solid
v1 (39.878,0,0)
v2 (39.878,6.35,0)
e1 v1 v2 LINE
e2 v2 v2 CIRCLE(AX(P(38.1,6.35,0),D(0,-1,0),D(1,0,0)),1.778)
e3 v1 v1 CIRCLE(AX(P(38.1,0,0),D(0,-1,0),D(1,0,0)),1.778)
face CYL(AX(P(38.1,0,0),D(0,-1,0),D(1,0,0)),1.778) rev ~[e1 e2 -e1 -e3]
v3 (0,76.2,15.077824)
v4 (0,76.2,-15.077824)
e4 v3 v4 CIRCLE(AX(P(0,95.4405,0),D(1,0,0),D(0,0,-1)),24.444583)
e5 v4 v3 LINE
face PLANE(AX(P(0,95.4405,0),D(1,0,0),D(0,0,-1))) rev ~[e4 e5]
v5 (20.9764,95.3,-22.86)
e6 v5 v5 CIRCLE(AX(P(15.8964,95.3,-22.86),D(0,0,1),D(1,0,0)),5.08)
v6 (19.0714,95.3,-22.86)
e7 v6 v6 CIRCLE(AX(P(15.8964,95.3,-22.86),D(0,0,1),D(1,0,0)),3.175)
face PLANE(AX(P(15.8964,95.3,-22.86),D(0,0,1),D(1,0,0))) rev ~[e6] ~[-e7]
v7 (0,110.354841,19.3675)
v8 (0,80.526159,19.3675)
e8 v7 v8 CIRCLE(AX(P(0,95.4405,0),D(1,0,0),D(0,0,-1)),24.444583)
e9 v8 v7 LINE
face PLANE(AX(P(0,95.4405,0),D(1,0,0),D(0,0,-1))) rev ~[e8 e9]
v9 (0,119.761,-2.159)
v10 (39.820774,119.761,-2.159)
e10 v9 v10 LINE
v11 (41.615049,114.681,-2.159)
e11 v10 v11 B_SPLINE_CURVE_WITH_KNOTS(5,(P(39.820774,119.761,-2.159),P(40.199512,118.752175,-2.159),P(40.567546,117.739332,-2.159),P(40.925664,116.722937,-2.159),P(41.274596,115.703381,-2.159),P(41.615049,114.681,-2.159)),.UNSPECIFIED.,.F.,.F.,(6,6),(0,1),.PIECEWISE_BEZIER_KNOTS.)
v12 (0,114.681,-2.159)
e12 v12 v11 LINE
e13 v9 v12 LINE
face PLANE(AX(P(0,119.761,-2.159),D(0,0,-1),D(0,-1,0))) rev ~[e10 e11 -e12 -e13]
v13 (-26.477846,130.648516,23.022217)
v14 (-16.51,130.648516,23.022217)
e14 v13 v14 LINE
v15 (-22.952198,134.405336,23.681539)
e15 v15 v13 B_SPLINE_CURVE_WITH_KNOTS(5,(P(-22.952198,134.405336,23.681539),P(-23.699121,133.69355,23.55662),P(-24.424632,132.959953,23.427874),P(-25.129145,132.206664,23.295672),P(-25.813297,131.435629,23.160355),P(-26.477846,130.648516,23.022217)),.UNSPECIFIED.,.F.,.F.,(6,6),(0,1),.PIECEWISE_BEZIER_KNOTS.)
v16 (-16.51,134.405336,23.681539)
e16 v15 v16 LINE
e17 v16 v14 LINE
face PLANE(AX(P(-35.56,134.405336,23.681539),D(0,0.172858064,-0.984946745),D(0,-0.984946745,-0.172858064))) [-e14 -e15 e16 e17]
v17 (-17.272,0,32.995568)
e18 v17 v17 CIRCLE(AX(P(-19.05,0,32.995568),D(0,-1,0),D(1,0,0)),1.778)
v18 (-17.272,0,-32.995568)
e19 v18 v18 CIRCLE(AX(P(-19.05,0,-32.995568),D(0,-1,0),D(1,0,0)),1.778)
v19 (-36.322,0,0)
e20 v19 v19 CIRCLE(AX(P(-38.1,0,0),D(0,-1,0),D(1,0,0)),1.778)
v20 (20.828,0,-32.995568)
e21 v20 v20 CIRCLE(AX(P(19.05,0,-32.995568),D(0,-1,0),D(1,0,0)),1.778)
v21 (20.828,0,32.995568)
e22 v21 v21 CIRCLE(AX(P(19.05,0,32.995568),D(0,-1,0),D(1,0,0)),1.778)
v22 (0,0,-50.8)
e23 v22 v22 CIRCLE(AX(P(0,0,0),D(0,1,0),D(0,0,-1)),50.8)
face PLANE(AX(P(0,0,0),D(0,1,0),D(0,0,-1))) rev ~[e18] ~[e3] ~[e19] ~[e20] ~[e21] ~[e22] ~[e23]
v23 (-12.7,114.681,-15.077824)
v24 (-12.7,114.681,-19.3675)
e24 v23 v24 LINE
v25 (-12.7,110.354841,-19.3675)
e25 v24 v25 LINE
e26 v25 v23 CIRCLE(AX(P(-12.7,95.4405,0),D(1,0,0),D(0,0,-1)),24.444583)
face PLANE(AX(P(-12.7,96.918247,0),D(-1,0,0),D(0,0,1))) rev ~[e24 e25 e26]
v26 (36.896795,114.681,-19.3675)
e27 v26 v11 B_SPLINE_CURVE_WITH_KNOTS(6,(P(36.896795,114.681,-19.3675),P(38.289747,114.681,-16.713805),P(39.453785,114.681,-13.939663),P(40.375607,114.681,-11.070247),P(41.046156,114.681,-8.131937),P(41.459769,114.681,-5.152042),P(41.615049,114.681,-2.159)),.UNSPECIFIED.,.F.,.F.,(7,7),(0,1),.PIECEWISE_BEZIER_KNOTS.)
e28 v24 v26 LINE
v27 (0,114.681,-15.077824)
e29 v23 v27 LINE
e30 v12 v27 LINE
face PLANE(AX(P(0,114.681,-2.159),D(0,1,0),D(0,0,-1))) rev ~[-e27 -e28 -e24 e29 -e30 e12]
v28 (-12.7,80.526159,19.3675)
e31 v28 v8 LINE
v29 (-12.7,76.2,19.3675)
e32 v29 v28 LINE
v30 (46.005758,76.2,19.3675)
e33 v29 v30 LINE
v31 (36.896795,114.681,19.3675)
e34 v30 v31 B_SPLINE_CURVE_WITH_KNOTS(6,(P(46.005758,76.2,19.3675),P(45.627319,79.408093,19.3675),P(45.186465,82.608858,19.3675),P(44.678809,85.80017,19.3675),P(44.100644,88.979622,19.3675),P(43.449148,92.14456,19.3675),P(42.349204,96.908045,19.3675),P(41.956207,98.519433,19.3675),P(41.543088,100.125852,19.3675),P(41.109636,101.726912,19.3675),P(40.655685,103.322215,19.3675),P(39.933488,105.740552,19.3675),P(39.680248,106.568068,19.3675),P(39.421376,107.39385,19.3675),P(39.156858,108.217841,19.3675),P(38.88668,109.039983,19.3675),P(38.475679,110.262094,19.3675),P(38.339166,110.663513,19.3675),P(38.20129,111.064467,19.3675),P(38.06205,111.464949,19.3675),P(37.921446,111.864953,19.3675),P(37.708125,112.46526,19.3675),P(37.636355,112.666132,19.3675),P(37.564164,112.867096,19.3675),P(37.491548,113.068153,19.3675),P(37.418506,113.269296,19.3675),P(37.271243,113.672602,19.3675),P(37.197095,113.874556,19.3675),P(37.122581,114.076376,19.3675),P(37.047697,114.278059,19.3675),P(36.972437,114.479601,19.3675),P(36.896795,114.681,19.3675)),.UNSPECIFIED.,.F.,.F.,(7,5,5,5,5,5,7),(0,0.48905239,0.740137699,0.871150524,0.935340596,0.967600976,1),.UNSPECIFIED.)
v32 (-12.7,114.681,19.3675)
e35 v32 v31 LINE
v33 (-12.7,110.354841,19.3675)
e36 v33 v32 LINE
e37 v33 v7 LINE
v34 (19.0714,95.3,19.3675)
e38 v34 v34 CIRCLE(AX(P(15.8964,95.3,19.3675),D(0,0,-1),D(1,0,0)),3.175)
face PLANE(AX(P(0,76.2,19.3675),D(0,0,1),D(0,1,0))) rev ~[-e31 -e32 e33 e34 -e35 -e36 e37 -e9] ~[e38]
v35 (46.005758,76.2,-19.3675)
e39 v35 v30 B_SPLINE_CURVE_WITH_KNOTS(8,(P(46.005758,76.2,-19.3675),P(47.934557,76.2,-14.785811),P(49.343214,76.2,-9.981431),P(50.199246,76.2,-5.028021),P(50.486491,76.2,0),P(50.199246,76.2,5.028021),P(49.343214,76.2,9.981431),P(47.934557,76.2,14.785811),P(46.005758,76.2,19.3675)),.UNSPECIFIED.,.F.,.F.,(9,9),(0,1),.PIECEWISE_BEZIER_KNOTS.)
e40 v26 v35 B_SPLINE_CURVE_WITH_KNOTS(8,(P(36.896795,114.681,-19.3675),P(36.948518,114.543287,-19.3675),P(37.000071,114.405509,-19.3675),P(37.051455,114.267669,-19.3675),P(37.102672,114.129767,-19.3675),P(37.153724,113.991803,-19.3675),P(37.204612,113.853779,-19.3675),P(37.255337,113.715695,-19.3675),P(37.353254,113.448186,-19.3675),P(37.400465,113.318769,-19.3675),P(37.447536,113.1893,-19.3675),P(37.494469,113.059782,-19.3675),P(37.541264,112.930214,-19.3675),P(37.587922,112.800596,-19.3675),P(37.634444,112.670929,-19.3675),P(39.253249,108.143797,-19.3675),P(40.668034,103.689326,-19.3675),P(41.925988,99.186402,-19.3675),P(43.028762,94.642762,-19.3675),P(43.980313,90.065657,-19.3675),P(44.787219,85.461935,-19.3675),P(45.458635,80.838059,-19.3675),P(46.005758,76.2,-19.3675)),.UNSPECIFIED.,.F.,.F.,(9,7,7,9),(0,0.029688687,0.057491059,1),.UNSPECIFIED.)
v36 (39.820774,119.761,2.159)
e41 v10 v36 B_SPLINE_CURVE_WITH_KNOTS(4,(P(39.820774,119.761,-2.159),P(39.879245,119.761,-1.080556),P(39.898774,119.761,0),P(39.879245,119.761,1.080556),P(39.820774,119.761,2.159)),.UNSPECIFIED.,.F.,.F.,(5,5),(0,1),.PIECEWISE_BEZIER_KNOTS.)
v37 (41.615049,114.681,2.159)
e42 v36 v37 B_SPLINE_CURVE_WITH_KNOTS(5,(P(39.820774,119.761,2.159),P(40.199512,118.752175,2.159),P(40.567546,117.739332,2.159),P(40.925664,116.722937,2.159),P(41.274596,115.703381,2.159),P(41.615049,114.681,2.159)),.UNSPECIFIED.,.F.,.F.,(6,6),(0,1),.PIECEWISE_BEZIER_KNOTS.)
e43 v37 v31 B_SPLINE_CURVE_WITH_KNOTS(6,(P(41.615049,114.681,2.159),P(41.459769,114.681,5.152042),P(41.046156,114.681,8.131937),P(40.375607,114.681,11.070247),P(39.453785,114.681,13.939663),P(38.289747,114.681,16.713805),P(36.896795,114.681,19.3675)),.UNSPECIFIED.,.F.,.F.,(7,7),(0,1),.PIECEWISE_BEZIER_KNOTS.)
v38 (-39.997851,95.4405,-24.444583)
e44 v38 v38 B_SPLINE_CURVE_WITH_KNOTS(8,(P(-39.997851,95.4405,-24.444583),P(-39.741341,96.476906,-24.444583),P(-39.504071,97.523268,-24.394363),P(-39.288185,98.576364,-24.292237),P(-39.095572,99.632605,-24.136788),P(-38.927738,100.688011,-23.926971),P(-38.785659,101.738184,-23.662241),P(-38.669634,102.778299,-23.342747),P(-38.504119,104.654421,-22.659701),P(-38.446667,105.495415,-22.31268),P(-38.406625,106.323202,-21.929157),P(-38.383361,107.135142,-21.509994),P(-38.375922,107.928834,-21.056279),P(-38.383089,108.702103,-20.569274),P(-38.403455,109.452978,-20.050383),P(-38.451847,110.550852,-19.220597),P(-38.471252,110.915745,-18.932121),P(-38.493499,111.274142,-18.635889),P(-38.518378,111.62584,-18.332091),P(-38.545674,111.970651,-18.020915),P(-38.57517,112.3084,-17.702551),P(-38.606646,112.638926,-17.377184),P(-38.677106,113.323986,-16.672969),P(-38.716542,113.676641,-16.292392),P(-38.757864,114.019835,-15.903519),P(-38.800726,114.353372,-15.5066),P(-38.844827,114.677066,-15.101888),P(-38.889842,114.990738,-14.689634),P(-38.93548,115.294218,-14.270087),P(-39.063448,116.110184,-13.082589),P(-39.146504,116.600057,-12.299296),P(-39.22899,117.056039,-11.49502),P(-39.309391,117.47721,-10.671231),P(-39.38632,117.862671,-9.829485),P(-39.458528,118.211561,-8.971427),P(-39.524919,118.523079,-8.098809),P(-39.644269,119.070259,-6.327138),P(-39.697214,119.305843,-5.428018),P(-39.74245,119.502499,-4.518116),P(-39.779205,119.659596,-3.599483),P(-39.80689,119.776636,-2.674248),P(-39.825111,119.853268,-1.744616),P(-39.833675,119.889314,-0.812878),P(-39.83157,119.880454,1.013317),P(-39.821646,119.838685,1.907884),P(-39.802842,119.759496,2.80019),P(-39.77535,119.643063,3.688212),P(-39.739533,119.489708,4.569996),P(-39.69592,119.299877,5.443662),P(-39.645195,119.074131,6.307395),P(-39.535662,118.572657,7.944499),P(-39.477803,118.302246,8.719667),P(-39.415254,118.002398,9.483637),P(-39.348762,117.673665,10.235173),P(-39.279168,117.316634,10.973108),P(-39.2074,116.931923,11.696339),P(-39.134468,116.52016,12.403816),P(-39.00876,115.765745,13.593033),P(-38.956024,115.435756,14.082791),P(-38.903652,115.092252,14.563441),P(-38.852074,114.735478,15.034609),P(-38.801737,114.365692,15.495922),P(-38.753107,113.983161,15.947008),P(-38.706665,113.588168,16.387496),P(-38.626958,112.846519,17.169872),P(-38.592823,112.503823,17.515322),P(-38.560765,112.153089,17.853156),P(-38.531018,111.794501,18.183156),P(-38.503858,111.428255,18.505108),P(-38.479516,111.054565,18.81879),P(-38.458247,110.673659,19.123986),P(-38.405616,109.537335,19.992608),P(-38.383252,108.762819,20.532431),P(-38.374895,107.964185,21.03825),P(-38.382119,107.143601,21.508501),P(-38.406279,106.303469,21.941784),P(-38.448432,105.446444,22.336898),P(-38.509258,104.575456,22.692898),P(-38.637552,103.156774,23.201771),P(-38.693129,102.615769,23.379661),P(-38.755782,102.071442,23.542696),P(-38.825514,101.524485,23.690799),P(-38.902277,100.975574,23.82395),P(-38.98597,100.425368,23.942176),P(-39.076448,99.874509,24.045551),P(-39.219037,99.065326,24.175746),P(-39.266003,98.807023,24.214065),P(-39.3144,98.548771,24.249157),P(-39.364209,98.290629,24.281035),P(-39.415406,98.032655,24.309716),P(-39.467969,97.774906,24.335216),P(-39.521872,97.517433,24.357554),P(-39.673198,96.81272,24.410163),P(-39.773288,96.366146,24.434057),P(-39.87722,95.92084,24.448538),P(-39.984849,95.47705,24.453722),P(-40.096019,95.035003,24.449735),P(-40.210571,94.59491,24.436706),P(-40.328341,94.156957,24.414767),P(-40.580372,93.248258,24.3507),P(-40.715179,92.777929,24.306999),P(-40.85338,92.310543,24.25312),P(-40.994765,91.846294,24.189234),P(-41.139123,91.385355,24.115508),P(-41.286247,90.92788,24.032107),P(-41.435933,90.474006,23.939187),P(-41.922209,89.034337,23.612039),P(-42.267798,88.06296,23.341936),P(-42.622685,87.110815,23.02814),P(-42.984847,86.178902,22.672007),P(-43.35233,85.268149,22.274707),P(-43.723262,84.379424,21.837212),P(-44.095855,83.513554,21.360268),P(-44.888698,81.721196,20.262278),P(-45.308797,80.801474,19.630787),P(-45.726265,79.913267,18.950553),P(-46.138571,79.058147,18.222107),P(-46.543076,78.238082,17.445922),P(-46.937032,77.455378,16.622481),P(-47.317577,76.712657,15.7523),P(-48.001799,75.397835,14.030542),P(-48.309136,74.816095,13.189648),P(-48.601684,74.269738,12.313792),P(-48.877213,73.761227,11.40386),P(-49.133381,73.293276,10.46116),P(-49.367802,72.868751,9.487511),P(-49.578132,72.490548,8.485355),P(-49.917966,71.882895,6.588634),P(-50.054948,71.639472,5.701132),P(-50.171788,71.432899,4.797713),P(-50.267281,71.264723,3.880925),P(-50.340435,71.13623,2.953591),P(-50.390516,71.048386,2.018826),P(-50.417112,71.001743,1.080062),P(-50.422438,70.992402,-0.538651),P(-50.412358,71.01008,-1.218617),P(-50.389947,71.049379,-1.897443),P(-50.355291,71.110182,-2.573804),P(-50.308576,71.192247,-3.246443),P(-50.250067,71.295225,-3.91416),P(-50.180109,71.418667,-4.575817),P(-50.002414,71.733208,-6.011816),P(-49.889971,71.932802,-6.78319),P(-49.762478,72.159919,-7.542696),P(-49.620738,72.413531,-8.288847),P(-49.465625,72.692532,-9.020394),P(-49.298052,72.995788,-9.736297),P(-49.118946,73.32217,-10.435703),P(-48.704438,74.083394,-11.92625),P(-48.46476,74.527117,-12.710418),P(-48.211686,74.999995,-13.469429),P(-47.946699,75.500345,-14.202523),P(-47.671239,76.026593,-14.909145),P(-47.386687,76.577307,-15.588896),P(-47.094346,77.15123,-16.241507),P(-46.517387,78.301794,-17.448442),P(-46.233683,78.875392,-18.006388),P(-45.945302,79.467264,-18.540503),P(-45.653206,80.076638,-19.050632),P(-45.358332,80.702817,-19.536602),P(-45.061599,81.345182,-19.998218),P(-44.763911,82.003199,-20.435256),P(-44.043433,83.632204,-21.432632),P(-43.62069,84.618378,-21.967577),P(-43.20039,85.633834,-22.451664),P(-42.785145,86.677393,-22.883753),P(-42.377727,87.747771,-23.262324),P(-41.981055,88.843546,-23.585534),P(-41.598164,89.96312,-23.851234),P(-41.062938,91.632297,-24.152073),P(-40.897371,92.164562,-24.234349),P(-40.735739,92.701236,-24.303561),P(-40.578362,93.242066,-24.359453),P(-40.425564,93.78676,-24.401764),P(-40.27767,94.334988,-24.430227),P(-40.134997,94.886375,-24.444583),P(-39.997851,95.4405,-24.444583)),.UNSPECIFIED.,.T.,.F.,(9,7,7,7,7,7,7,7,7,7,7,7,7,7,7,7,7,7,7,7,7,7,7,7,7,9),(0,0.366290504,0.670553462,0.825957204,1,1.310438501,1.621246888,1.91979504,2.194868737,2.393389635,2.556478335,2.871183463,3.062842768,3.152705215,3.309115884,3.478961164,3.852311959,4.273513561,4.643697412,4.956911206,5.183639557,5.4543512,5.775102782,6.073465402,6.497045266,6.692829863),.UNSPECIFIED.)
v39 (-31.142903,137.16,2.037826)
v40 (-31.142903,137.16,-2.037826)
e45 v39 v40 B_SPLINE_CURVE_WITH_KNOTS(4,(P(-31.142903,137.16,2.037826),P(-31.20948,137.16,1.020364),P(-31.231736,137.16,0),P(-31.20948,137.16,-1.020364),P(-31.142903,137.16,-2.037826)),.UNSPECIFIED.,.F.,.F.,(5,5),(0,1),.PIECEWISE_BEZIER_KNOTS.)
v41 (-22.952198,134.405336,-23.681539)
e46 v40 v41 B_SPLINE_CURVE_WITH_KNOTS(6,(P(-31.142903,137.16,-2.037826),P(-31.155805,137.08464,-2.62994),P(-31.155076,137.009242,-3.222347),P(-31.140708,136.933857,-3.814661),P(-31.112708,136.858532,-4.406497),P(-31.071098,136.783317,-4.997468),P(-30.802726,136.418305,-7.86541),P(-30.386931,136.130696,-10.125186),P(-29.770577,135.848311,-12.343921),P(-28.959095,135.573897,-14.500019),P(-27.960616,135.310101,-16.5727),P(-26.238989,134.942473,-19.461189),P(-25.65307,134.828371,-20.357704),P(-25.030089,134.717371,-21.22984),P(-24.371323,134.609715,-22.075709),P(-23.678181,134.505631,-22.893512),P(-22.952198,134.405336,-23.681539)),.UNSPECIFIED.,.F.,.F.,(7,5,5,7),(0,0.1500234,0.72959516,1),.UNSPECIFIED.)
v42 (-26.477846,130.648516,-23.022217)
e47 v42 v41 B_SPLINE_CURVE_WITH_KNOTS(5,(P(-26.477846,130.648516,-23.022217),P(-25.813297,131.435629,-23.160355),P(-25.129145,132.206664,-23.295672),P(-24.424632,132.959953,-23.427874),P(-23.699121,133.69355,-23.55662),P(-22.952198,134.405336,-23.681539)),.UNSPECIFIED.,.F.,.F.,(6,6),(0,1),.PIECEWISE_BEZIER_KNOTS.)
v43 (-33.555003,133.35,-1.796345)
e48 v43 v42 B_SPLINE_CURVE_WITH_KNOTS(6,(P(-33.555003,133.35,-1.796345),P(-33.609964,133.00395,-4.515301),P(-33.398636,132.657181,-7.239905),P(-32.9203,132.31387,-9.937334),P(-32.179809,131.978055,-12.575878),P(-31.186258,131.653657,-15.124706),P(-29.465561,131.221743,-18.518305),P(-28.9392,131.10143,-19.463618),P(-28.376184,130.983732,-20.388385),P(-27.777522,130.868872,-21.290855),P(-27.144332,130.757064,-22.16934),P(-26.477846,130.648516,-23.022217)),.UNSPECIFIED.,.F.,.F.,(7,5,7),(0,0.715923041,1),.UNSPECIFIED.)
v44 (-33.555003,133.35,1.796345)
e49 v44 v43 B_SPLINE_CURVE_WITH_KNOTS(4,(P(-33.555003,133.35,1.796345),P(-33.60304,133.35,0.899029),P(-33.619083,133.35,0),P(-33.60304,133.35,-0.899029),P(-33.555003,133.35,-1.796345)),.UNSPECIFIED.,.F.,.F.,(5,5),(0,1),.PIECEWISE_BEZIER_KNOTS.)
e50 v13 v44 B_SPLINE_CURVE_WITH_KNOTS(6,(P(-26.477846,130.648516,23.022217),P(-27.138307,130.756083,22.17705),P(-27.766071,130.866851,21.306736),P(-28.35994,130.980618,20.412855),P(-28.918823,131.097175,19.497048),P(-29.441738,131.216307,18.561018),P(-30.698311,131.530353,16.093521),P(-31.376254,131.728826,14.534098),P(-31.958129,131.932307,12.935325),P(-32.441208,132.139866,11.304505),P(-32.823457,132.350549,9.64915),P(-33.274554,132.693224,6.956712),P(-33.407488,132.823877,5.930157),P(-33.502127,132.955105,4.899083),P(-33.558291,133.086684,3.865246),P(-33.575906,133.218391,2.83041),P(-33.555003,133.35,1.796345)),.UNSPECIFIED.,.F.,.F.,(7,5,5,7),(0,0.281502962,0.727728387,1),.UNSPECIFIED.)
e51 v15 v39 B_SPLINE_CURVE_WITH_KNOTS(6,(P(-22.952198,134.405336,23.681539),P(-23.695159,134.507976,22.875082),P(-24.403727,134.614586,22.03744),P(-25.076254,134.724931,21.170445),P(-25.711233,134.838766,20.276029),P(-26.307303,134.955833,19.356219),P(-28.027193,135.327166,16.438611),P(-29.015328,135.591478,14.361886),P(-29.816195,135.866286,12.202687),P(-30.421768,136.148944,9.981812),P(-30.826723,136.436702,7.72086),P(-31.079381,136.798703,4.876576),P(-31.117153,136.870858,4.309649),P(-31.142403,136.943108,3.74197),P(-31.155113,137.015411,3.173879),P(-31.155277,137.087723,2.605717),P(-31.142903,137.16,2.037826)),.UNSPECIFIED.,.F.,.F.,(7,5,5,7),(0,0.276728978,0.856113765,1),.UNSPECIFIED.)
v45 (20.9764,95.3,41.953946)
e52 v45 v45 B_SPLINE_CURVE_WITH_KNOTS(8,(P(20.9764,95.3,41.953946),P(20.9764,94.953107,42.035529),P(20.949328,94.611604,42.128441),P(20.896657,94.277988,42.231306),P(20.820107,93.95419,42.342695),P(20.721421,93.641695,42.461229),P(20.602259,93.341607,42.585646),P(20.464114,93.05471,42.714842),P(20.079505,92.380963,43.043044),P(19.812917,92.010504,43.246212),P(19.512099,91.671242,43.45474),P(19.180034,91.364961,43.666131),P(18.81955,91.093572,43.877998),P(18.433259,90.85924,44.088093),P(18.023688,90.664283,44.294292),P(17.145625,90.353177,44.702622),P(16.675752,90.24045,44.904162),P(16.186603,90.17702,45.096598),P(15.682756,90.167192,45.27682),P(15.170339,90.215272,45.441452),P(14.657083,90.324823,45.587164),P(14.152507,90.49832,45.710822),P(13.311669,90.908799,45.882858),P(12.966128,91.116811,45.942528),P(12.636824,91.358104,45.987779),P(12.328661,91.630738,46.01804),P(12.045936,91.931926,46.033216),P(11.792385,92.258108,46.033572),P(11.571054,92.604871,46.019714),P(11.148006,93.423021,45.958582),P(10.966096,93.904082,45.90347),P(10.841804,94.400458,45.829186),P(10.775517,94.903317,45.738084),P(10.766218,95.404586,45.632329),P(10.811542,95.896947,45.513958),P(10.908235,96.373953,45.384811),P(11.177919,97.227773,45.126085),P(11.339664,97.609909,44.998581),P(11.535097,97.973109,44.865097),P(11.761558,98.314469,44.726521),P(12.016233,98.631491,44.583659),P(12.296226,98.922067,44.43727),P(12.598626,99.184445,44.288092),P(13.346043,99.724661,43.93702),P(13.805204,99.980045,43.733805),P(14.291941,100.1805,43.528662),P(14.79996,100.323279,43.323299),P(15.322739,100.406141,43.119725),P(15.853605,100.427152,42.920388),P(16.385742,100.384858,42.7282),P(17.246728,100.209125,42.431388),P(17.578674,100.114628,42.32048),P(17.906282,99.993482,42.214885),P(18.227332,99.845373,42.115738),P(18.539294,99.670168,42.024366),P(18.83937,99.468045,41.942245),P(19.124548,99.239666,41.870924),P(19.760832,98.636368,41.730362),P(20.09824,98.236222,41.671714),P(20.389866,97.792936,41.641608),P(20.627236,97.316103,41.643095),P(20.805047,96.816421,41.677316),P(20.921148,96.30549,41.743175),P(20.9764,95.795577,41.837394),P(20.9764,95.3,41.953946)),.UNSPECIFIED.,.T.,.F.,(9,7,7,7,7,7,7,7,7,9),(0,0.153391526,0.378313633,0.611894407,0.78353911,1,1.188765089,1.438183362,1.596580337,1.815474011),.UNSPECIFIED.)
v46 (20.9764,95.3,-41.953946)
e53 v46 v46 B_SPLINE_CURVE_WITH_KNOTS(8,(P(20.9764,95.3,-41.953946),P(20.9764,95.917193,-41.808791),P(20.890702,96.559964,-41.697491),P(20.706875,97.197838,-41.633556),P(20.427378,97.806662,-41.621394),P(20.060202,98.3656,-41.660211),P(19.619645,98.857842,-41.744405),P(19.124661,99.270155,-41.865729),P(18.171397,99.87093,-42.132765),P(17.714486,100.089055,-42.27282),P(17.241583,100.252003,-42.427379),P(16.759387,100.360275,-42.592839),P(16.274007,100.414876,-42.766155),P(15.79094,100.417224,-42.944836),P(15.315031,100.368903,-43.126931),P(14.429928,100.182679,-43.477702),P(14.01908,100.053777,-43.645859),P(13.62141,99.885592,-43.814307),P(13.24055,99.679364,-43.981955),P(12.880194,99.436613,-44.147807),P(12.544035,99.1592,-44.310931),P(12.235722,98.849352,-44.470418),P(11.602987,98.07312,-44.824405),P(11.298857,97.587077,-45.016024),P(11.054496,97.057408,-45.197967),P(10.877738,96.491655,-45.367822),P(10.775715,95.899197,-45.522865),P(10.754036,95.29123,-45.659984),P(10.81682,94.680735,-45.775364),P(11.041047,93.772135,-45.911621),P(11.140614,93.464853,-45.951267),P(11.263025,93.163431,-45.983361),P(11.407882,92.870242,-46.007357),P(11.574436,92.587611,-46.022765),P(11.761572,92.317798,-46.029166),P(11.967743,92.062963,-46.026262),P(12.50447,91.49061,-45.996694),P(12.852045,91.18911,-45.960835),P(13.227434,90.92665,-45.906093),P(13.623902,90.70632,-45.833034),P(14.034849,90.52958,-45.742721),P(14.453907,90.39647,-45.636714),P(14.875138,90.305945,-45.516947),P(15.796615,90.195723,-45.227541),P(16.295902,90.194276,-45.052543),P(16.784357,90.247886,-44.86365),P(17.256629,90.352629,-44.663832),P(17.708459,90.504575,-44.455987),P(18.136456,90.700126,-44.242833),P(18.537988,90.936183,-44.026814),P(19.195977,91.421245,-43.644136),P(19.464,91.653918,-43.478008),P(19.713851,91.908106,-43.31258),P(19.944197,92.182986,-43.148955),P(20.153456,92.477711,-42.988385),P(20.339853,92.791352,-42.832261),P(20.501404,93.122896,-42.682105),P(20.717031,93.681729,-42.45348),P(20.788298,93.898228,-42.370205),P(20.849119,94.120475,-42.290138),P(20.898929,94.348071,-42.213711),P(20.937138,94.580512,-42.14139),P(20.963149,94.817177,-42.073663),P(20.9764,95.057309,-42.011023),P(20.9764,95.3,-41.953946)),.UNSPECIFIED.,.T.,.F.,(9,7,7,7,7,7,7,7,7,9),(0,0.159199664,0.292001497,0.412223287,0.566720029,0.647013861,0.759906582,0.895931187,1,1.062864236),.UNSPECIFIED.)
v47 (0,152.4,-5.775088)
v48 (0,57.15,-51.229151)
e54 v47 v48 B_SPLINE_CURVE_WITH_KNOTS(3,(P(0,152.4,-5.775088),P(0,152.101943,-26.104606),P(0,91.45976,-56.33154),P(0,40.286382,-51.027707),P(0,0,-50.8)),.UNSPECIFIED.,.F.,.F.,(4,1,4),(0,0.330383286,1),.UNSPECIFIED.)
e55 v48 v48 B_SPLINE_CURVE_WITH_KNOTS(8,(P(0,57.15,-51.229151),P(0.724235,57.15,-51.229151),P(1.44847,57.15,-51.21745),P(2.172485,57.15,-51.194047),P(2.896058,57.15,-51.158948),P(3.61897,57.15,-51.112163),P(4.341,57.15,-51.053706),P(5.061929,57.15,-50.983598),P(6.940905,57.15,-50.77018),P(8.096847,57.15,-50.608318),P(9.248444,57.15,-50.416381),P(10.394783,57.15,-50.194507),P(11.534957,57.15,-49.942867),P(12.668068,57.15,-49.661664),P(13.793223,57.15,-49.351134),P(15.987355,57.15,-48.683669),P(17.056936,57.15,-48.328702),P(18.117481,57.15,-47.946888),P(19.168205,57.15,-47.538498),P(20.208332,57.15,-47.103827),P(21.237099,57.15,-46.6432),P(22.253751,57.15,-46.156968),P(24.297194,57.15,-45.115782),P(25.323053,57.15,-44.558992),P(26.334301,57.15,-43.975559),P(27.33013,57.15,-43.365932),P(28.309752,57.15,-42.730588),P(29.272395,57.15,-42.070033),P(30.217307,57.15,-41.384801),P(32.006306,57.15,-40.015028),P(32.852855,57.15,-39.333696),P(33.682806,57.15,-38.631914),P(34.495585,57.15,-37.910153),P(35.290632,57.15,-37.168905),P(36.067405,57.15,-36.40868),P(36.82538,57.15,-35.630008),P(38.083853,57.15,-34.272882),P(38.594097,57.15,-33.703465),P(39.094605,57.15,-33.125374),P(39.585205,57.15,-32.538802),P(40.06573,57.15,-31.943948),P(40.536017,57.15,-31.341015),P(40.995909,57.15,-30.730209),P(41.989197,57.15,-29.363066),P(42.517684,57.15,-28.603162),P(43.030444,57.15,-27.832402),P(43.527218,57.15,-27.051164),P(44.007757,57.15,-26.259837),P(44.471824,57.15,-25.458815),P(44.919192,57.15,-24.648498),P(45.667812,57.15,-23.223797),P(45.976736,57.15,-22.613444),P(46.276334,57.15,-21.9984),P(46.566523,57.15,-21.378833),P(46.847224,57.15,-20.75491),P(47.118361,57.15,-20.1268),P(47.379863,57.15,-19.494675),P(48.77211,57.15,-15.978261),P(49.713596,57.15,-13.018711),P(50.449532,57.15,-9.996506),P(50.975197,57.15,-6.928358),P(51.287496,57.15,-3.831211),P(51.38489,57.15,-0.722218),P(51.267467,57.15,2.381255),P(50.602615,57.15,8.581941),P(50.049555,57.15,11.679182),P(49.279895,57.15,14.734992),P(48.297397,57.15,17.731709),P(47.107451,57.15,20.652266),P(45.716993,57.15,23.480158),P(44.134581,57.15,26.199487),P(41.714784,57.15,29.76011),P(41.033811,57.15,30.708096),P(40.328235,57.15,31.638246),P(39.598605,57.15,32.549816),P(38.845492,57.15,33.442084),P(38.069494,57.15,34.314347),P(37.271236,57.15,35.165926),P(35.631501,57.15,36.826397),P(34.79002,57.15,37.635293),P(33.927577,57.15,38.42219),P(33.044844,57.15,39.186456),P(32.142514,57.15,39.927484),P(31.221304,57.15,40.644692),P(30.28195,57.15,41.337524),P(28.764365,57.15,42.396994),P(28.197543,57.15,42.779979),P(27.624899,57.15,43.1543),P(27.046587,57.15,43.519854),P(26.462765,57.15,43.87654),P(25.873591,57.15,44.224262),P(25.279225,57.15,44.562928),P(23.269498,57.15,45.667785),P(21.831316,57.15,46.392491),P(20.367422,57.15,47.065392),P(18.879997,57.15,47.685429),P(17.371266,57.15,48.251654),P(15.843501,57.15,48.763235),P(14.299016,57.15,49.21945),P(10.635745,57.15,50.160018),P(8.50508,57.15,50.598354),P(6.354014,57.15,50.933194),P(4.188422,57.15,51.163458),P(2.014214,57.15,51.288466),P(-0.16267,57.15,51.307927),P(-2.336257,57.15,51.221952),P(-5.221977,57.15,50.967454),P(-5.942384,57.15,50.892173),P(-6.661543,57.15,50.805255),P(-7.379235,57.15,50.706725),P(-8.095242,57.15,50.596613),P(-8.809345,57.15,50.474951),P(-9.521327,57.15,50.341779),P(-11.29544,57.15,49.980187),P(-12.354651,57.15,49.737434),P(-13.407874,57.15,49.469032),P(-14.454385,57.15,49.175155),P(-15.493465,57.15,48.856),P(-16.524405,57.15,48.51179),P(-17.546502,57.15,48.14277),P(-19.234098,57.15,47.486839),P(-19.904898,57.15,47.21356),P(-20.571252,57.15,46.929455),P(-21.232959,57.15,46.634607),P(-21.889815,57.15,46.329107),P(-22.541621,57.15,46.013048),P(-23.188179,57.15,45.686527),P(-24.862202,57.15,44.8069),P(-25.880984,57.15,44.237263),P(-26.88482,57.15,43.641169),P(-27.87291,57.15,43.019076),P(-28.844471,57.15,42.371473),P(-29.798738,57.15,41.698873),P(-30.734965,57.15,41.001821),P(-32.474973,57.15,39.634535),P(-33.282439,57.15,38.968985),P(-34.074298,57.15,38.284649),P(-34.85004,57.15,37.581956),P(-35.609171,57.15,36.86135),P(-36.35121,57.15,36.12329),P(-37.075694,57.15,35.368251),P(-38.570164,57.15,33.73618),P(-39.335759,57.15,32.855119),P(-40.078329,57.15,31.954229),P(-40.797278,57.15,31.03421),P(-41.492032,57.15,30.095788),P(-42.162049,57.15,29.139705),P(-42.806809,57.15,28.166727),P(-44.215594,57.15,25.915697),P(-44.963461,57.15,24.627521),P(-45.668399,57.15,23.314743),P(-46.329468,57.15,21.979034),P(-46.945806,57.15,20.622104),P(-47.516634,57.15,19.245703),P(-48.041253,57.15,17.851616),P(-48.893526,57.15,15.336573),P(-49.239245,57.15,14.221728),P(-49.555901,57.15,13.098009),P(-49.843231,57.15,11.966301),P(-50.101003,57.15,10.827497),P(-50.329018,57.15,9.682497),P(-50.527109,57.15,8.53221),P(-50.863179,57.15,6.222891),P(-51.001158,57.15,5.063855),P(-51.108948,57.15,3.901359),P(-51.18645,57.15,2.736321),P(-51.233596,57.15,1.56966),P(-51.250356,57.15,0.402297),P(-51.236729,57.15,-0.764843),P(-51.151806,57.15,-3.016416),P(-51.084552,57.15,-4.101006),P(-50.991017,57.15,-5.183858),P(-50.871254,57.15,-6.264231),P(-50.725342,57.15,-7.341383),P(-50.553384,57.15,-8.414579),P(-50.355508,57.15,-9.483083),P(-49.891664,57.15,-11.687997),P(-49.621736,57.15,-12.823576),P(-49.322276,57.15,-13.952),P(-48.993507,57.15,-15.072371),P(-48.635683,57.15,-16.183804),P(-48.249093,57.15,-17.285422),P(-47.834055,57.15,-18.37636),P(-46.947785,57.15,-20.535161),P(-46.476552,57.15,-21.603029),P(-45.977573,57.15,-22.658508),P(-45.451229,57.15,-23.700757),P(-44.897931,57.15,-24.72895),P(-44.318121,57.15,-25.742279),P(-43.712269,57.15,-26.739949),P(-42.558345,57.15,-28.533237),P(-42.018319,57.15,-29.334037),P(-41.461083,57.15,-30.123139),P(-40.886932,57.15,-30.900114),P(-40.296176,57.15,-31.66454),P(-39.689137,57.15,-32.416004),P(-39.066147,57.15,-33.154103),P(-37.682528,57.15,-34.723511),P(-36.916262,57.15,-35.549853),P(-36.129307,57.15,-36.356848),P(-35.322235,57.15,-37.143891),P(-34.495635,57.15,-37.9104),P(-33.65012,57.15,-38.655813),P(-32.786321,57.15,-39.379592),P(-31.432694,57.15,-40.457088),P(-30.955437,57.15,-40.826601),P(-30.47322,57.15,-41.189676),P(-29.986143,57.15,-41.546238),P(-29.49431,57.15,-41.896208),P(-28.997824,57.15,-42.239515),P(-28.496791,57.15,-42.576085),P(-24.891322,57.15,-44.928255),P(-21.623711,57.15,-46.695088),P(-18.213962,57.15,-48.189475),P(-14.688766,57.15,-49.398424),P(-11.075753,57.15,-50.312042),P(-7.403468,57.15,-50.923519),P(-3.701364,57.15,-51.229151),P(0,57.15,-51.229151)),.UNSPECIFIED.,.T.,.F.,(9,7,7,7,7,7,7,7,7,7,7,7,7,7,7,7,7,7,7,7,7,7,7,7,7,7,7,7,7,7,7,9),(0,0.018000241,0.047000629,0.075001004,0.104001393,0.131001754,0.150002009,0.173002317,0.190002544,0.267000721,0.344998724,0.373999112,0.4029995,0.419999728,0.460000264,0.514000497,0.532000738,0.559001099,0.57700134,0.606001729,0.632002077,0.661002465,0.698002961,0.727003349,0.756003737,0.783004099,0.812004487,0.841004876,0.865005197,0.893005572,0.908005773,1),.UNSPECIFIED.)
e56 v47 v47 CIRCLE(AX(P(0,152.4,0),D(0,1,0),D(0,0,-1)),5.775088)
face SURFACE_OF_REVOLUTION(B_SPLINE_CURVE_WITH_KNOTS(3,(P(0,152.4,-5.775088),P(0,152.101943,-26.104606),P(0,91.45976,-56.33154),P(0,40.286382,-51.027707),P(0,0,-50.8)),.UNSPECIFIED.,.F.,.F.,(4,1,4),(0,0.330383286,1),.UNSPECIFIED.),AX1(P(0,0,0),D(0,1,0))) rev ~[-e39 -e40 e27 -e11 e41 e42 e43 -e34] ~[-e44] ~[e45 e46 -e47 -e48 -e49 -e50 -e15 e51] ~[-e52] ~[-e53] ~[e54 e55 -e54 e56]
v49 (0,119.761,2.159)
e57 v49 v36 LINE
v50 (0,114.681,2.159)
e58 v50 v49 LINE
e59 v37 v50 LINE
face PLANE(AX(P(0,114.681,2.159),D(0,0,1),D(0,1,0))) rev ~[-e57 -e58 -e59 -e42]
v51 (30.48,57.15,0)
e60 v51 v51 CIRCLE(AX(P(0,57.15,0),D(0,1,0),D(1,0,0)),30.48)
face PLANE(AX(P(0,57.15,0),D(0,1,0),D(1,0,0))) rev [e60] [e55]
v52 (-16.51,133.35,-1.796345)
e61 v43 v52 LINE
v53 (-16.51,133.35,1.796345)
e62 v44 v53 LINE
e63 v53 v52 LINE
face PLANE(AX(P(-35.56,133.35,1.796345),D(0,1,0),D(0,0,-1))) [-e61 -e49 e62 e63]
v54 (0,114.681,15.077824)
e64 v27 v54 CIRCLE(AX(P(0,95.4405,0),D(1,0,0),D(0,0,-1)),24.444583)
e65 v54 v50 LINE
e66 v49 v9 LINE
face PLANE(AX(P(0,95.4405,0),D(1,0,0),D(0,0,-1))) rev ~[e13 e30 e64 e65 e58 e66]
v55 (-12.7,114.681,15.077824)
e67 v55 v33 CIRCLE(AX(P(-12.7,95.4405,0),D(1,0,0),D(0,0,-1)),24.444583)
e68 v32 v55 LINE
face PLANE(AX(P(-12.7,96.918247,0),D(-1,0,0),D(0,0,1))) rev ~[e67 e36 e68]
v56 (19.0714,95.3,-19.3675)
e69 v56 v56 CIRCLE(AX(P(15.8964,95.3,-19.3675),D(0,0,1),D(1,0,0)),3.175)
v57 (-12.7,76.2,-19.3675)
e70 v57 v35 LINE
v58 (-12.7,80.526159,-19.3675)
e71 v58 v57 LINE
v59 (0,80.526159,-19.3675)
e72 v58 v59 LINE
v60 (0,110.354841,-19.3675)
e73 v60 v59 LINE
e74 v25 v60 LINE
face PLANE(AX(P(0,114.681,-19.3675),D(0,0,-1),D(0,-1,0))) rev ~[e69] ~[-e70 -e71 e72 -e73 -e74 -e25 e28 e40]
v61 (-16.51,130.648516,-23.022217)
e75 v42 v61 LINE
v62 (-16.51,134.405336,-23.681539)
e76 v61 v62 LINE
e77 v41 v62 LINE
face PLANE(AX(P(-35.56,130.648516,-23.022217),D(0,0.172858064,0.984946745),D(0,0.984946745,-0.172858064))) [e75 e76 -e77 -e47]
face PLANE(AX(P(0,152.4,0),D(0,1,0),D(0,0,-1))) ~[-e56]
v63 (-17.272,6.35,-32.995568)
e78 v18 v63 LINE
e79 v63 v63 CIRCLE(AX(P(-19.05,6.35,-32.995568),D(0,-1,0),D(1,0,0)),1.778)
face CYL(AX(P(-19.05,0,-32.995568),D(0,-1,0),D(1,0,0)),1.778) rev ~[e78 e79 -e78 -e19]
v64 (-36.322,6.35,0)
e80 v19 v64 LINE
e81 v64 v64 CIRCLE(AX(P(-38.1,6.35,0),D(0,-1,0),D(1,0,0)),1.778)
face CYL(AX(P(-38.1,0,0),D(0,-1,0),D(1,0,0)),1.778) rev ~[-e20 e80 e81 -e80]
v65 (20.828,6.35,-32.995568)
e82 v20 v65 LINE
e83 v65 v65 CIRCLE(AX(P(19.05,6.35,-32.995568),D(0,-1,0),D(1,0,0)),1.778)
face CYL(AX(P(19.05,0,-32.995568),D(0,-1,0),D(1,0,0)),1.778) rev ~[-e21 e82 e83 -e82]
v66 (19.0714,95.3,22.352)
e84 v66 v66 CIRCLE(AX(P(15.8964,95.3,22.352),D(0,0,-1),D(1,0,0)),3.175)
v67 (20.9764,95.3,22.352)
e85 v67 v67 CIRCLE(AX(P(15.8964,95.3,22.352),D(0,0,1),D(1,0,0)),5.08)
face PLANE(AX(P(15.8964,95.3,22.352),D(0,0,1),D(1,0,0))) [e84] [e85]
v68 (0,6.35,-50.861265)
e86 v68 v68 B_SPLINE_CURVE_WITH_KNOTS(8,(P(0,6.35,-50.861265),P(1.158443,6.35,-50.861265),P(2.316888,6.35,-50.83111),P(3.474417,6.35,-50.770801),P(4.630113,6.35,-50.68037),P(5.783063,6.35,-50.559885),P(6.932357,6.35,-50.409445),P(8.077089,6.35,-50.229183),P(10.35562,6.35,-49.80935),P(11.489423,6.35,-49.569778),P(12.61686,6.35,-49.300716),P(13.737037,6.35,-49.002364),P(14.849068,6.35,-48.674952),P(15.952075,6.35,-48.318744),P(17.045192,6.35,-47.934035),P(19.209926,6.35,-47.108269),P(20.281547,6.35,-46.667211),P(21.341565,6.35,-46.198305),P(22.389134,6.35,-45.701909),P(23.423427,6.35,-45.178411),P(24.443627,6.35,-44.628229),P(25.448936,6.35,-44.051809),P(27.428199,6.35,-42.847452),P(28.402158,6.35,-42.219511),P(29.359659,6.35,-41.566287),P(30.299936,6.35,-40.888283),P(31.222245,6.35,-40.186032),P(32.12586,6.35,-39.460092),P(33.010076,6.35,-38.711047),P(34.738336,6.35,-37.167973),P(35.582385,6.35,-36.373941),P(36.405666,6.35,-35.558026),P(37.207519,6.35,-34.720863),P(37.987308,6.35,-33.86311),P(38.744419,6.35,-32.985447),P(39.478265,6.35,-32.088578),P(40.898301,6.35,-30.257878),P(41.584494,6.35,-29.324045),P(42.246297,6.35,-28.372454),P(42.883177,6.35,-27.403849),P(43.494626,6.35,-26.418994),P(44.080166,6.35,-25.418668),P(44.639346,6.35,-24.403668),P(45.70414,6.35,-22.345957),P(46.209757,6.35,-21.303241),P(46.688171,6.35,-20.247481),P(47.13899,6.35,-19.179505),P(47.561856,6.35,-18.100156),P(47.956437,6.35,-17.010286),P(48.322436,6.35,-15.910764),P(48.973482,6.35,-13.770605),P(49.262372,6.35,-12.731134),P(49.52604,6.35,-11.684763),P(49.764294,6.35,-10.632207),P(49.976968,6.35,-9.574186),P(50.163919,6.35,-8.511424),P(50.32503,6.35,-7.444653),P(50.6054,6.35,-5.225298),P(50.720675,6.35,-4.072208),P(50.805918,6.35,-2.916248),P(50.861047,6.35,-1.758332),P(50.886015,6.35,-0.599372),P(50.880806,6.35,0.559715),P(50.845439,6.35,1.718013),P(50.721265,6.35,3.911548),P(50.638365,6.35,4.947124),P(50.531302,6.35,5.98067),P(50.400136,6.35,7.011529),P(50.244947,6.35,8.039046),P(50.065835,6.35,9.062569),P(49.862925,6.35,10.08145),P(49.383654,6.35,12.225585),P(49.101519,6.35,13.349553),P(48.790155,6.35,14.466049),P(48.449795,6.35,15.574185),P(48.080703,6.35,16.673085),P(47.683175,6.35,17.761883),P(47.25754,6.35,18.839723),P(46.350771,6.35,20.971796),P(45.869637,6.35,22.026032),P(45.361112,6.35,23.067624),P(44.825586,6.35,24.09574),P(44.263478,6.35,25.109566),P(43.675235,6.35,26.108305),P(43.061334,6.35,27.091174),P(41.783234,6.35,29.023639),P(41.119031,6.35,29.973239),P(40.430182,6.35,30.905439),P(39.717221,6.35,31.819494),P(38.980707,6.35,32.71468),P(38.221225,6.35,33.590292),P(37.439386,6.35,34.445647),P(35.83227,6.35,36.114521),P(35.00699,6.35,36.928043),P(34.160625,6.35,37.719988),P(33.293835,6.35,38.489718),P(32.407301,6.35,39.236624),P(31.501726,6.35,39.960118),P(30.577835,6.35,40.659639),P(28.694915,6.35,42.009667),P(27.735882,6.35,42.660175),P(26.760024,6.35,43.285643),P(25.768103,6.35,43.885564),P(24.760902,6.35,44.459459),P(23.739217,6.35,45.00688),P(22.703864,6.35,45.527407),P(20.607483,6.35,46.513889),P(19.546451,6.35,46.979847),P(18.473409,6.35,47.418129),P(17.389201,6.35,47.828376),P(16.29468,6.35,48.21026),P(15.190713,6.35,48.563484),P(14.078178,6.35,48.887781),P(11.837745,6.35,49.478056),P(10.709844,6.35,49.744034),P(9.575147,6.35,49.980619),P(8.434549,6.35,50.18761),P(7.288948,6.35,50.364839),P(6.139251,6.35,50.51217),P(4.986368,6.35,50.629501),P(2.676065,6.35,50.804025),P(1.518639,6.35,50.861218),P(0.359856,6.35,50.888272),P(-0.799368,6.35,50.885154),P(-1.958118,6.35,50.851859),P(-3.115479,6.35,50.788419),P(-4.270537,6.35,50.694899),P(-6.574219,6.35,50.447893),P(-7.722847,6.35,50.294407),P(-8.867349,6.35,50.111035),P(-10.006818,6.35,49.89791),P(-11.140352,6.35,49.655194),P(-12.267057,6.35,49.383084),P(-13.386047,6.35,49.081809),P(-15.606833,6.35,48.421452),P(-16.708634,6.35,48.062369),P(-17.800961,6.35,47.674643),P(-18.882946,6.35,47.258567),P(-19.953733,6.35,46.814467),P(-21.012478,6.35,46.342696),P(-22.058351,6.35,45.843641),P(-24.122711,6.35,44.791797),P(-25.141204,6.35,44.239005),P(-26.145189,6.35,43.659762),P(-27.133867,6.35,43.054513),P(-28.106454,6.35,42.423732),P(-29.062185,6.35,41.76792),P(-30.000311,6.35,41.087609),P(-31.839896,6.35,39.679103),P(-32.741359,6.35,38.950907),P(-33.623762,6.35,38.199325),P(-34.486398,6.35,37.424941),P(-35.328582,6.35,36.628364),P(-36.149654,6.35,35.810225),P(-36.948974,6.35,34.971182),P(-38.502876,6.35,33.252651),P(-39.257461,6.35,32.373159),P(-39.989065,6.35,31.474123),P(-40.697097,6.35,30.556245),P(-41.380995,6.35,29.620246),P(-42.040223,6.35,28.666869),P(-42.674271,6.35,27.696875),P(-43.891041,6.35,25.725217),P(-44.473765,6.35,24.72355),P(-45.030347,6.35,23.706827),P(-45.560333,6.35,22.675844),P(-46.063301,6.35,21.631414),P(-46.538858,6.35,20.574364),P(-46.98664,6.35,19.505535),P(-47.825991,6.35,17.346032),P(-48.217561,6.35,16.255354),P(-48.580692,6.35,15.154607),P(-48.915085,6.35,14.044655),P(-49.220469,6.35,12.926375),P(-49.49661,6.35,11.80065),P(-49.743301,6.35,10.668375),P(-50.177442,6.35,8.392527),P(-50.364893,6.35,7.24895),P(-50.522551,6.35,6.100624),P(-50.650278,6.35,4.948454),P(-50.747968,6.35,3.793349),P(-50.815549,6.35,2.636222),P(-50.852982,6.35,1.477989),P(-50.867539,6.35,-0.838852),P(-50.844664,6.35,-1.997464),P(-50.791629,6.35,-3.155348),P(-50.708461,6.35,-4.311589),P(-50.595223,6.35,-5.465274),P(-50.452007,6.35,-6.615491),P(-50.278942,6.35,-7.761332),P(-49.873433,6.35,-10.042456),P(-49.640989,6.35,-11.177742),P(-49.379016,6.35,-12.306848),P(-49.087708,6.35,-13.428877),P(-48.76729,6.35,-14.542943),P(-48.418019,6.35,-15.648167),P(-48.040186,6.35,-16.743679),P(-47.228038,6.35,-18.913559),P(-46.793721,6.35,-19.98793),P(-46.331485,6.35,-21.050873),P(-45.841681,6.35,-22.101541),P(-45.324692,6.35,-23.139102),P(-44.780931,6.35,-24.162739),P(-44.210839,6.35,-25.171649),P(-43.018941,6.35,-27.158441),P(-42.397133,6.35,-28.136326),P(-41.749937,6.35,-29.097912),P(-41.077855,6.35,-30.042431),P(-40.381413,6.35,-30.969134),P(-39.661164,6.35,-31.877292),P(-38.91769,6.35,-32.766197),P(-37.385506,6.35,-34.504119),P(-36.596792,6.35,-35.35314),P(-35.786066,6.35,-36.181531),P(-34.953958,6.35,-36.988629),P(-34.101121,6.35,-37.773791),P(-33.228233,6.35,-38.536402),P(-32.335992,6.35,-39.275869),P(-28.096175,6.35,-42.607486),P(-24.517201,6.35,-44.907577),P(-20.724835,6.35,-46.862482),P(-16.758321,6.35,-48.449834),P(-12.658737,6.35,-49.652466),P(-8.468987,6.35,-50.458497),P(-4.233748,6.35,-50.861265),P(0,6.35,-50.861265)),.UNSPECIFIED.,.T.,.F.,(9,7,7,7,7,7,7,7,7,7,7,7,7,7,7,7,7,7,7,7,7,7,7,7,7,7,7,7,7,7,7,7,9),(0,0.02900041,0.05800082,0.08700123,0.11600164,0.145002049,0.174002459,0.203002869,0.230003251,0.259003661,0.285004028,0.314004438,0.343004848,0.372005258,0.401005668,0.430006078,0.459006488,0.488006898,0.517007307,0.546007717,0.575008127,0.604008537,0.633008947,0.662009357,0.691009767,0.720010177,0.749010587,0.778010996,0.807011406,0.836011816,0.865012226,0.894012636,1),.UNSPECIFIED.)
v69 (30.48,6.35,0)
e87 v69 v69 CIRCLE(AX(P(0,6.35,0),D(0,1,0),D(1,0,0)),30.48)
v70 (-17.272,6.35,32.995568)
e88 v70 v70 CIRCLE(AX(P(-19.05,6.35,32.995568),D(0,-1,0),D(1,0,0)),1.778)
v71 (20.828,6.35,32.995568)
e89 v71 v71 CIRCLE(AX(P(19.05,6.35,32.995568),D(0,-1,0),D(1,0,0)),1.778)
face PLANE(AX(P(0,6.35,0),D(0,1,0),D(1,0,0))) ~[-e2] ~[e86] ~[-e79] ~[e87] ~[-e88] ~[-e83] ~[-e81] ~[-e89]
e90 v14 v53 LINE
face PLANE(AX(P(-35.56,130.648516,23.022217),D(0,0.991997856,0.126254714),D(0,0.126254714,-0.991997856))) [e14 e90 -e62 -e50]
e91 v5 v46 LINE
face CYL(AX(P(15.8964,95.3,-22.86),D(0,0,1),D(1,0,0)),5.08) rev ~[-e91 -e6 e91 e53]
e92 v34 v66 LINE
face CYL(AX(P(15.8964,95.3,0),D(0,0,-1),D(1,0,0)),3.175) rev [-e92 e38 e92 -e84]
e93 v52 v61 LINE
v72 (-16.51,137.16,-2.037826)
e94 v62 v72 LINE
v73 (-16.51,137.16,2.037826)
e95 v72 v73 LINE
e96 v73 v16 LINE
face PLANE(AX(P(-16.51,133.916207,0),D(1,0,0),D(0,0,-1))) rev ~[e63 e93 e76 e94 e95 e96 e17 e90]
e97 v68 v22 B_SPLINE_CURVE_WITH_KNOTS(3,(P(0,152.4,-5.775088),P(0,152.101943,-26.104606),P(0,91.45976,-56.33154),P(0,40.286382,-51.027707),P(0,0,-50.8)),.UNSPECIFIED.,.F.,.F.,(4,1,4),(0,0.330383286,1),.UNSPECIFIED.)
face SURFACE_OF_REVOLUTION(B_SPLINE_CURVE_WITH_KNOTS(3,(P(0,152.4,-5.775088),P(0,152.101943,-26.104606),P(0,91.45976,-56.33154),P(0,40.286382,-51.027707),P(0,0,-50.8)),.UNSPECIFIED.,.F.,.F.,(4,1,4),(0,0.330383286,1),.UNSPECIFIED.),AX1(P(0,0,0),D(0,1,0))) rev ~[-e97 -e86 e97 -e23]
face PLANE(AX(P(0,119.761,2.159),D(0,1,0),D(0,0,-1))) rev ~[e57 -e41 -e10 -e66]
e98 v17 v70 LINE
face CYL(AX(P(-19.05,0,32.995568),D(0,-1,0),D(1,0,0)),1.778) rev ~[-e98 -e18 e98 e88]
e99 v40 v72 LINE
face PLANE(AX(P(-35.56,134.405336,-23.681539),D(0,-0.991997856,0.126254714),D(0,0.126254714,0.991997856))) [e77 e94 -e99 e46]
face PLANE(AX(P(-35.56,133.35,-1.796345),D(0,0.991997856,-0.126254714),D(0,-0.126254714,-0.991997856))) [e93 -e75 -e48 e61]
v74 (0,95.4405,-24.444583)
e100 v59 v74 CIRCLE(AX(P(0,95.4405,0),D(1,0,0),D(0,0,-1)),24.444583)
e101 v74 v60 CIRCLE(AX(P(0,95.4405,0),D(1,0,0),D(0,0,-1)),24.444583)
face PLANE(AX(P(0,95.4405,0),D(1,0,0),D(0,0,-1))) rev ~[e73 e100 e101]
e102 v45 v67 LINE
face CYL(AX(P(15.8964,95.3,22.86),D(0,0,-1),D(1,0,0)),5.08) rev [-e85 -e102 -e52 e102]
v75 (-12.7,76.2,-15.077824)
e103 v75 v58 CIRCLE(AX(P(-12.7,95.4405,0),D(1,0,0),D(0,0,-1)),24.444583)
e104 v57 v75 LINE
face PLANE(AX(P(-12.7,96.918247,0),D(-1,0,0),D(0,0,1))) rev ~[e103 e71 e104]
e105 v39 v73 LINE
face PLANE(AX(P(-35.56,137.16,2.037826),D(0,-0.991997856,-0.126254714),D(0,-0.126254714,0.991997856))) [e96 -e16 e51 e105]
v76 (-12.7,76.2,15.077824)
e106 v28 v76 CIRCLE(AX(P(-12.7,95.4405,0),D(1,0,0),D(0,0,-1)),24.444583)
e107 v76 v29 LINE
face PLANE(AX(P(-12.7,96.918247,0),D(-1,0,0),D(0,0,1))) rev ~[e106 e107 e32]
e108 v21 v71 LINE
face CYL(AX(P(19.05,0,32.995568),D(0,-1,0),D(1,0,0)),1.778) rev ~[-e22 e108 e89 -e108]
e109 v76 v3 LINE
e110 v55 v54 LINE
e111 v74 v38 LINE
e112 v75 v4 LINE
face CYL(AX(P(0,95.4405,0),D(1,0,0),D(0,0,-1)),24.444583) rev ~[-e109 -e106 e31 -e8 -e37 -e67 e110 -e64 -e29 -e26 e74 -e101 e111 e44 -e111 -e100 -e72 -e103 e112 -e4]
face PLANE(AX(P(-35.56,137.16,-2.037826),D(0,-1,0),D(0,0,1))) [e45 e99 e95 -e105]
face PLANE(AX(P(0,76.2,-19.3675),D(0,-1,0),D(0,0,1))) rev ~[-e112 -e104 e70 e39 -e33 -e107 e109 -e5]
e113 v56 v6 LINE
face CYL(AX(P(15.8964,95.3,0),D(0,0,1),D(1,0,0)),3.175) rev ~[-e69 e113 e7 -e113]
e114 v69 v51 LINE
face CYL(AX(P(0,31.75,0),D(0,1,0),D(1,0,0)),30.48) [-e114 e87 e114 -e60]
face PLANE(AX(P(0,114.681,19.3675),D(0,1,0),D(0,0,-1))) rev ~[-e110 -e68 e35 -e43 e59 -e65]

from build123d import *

# Parameters (mm, degrees)
CUT_EXTRUDE1_DEPTH      = 52.443023194
CUT_EXTRUDE1_DEPTH_BACK = 12.7
SKETCH5_R               = 24.444582539
CUT_EXTRUDE2_DEPTH      = 66.04
SKETCH10_R              = 3.175
CUT_EXTRUDE3_DEPTH      = 52.443023194
CUT_EXTRUDE3_DEPTH_BACK = 52.443023194
SKETCH12_R              = 5.08
CUT_EXTRUDE4_DEPTH      = 43.688
CUT_EXTRUDE4_DEPTH_BACK = 0.508
SKETCH13_R              = 5.08
CUT_EXTRUDE5_DEPTH      = 43.688
SKETCH19_W              = 74.622524606
SKETCH19_H              = 50.8
SKETCH16_R              = 1.778
CUT_EXTRUDE6_DEPTH      = 7.62
CUT_EXTRUDE7_DEPTH      = 19.05


with BuildPart() as part:
    # Sketch3 → Revolve2 (revolve)
    with BuildSketch(Plane(origin=(0, 0, 0), x_dir=(0, 0, -1), z_dir=(1, 0, 0))):
        with BuildLine():
            Line((0, 0), (0, 152.4))
            Line((0, 152.4), (5.775087988, 152.4))
            add(Edge.make_bspline(
                [(5.775087988, 152.4), (26.104606075, 152.101942681), (56.331539835, 91.459760386), (51.027706874, 40.286381735), (50.8, 0)],
                knots=[0, 0, 0, 0, 0.330383286, 1, 1, 1, 1], degree=3))
            Line((50.8, 0), (0, 0))
        make_face()
    revolve(axis=Axis((0, 0, 0), (0, 1, 0)))

    # Sketch4 → Cut-Extrude1 (cut, two sides)
    with BuildSketch(Plane(origin=(0, 0, 0), x_dir=(0, 0, -1), z_dir=(1, 0, 0))) as cut_extrude1_sk:
        Polygon((-19.3675, 114.681), (-2.159, 114.681), (-2.159, 119.761), (2.159, 119.761), (2.159, 114.681), (19.3675, 114.681), (19.3675, 76.2), (-19.3675, 76.2), align=None)
    extrude(amount=CUT_EXTRUDE1_DEPTH, mode=Mode.SUBTRACT)
    extrude(cut_extrude1_sk.sketch, amount=-CUT_EXTRUDE1_DEPTH_BACK, mode=Mode.SUBTRACT)

    # Sketch5 → Cut-Extrude2 (cut)
    with BuildSketch(Plane(origin=(0, 0, 0), x_dir=(0, 0, -1), z_dir=(1, 0, 0))):
        with Locations((0, 95.4405)):
            Circle(SKETCH5_R)
    extrude(amount=-CUT_EXTRUDE2_DEPTH, mode=Mode.SUBTRACT)

    # Sketch10 → Cut-Extrude3 (cut, two sides)
    with BuildSketch(Plane.XY) as cut_extrude3_sk:
        with Locations((15.896399951, 95.3)):
            Circle(SKETCH10_R)
    extrude(amount=CUT_EXTRUDE3_DEPTH, mode=Mode.SUBTRACT)
    extrude(cut_extrude3_sk.sketch, amount=-CUT_EXTRUDE3_DEPTH_BACK, mode=Mode.SUBTRACT)

    # Sketch12 → Cut-Extrude4 (cut, two sides)
    with BuildSketch(Plane.XY.offset(22.86)) as cut_extrude4_sk:
        with Locations((15.896399951, 95.3)):
            Circle(SKETCH12_R)
    extrude(amount=CUT_EXTRUDE4_DEPTH, mode=Mode.SUBTRACT)
    extrude(cut_extrude4_sk.sketch, amount=-CUT_EXTRUDE4_DEPTH_BACK, mode=Mode.SUBTRACT)

    # Sketch13 → Cut-Extrude5 (cut)
    with BuildSketch(Plane.XY.offset(-22.86)):
        with Locations((15.896399951, 95.3)):
            Circle(SKETCH13_R)
    extrude(amount=-CUT_EXTRUDE5_DEPTH, mode=Mode.SUBTRACT)

    # Sketch19 → Cut-Revolve1 (revolve, cut)
    with BuildSketch(Plane.XY):
        with Locations((67.791262303, 31.75)):
            Rectangle(SKETCH19_W, SKETCH19_H)
    revolve(axis=Axis((0, 0, 0), (0, 1, 0)), mode=Mode.SUBTRACT)

    # Sketch16 → Cut-Extrude6 (cut)
    with BuildSketch(Plane.XZ):
        with Locations((38.1, 0)):
            Circle(SKETCH16_R)
        with Locations((19.05, -32.995567884)):
            Circle(SKETCH16_R)
        with Locations((-19.05, -32.995567884)):
            Circle(SKETCH16_R)
        with Locations((-38.1, 0)):
            Circle(SKETCH16_R)
        with Locations((-19.05, 32.995567884)):
            Circle(SKETCH16_R)
        with Locations((19.05, 32.995567884)):
            Circle(SKETCH16_R)
    extrude(amount=-CUT_EXTRUDE6_DEPTH, mode=Mode.SUBTRACT)

    # Sketch20 → Cut-Extrude7 (cut)
    with BuildSketch(Plane.ZY.offset(35.56)):
        Polygon((23.022216919, 130.648515898), (1.796344675, 133.35), (-1.796344675, 133.35), (-23.022216919, 130.648515898), (-23.681538514, 134.405336053), (-2.037826091, 137.16), (2.037826091, 137.16), (23.681538514, 134.405336053), align=None)
    extrude(amount=-CUT_EXTRUDE7_DEPTH, mode=Mode.SUBTRACT)


solid = part.part
